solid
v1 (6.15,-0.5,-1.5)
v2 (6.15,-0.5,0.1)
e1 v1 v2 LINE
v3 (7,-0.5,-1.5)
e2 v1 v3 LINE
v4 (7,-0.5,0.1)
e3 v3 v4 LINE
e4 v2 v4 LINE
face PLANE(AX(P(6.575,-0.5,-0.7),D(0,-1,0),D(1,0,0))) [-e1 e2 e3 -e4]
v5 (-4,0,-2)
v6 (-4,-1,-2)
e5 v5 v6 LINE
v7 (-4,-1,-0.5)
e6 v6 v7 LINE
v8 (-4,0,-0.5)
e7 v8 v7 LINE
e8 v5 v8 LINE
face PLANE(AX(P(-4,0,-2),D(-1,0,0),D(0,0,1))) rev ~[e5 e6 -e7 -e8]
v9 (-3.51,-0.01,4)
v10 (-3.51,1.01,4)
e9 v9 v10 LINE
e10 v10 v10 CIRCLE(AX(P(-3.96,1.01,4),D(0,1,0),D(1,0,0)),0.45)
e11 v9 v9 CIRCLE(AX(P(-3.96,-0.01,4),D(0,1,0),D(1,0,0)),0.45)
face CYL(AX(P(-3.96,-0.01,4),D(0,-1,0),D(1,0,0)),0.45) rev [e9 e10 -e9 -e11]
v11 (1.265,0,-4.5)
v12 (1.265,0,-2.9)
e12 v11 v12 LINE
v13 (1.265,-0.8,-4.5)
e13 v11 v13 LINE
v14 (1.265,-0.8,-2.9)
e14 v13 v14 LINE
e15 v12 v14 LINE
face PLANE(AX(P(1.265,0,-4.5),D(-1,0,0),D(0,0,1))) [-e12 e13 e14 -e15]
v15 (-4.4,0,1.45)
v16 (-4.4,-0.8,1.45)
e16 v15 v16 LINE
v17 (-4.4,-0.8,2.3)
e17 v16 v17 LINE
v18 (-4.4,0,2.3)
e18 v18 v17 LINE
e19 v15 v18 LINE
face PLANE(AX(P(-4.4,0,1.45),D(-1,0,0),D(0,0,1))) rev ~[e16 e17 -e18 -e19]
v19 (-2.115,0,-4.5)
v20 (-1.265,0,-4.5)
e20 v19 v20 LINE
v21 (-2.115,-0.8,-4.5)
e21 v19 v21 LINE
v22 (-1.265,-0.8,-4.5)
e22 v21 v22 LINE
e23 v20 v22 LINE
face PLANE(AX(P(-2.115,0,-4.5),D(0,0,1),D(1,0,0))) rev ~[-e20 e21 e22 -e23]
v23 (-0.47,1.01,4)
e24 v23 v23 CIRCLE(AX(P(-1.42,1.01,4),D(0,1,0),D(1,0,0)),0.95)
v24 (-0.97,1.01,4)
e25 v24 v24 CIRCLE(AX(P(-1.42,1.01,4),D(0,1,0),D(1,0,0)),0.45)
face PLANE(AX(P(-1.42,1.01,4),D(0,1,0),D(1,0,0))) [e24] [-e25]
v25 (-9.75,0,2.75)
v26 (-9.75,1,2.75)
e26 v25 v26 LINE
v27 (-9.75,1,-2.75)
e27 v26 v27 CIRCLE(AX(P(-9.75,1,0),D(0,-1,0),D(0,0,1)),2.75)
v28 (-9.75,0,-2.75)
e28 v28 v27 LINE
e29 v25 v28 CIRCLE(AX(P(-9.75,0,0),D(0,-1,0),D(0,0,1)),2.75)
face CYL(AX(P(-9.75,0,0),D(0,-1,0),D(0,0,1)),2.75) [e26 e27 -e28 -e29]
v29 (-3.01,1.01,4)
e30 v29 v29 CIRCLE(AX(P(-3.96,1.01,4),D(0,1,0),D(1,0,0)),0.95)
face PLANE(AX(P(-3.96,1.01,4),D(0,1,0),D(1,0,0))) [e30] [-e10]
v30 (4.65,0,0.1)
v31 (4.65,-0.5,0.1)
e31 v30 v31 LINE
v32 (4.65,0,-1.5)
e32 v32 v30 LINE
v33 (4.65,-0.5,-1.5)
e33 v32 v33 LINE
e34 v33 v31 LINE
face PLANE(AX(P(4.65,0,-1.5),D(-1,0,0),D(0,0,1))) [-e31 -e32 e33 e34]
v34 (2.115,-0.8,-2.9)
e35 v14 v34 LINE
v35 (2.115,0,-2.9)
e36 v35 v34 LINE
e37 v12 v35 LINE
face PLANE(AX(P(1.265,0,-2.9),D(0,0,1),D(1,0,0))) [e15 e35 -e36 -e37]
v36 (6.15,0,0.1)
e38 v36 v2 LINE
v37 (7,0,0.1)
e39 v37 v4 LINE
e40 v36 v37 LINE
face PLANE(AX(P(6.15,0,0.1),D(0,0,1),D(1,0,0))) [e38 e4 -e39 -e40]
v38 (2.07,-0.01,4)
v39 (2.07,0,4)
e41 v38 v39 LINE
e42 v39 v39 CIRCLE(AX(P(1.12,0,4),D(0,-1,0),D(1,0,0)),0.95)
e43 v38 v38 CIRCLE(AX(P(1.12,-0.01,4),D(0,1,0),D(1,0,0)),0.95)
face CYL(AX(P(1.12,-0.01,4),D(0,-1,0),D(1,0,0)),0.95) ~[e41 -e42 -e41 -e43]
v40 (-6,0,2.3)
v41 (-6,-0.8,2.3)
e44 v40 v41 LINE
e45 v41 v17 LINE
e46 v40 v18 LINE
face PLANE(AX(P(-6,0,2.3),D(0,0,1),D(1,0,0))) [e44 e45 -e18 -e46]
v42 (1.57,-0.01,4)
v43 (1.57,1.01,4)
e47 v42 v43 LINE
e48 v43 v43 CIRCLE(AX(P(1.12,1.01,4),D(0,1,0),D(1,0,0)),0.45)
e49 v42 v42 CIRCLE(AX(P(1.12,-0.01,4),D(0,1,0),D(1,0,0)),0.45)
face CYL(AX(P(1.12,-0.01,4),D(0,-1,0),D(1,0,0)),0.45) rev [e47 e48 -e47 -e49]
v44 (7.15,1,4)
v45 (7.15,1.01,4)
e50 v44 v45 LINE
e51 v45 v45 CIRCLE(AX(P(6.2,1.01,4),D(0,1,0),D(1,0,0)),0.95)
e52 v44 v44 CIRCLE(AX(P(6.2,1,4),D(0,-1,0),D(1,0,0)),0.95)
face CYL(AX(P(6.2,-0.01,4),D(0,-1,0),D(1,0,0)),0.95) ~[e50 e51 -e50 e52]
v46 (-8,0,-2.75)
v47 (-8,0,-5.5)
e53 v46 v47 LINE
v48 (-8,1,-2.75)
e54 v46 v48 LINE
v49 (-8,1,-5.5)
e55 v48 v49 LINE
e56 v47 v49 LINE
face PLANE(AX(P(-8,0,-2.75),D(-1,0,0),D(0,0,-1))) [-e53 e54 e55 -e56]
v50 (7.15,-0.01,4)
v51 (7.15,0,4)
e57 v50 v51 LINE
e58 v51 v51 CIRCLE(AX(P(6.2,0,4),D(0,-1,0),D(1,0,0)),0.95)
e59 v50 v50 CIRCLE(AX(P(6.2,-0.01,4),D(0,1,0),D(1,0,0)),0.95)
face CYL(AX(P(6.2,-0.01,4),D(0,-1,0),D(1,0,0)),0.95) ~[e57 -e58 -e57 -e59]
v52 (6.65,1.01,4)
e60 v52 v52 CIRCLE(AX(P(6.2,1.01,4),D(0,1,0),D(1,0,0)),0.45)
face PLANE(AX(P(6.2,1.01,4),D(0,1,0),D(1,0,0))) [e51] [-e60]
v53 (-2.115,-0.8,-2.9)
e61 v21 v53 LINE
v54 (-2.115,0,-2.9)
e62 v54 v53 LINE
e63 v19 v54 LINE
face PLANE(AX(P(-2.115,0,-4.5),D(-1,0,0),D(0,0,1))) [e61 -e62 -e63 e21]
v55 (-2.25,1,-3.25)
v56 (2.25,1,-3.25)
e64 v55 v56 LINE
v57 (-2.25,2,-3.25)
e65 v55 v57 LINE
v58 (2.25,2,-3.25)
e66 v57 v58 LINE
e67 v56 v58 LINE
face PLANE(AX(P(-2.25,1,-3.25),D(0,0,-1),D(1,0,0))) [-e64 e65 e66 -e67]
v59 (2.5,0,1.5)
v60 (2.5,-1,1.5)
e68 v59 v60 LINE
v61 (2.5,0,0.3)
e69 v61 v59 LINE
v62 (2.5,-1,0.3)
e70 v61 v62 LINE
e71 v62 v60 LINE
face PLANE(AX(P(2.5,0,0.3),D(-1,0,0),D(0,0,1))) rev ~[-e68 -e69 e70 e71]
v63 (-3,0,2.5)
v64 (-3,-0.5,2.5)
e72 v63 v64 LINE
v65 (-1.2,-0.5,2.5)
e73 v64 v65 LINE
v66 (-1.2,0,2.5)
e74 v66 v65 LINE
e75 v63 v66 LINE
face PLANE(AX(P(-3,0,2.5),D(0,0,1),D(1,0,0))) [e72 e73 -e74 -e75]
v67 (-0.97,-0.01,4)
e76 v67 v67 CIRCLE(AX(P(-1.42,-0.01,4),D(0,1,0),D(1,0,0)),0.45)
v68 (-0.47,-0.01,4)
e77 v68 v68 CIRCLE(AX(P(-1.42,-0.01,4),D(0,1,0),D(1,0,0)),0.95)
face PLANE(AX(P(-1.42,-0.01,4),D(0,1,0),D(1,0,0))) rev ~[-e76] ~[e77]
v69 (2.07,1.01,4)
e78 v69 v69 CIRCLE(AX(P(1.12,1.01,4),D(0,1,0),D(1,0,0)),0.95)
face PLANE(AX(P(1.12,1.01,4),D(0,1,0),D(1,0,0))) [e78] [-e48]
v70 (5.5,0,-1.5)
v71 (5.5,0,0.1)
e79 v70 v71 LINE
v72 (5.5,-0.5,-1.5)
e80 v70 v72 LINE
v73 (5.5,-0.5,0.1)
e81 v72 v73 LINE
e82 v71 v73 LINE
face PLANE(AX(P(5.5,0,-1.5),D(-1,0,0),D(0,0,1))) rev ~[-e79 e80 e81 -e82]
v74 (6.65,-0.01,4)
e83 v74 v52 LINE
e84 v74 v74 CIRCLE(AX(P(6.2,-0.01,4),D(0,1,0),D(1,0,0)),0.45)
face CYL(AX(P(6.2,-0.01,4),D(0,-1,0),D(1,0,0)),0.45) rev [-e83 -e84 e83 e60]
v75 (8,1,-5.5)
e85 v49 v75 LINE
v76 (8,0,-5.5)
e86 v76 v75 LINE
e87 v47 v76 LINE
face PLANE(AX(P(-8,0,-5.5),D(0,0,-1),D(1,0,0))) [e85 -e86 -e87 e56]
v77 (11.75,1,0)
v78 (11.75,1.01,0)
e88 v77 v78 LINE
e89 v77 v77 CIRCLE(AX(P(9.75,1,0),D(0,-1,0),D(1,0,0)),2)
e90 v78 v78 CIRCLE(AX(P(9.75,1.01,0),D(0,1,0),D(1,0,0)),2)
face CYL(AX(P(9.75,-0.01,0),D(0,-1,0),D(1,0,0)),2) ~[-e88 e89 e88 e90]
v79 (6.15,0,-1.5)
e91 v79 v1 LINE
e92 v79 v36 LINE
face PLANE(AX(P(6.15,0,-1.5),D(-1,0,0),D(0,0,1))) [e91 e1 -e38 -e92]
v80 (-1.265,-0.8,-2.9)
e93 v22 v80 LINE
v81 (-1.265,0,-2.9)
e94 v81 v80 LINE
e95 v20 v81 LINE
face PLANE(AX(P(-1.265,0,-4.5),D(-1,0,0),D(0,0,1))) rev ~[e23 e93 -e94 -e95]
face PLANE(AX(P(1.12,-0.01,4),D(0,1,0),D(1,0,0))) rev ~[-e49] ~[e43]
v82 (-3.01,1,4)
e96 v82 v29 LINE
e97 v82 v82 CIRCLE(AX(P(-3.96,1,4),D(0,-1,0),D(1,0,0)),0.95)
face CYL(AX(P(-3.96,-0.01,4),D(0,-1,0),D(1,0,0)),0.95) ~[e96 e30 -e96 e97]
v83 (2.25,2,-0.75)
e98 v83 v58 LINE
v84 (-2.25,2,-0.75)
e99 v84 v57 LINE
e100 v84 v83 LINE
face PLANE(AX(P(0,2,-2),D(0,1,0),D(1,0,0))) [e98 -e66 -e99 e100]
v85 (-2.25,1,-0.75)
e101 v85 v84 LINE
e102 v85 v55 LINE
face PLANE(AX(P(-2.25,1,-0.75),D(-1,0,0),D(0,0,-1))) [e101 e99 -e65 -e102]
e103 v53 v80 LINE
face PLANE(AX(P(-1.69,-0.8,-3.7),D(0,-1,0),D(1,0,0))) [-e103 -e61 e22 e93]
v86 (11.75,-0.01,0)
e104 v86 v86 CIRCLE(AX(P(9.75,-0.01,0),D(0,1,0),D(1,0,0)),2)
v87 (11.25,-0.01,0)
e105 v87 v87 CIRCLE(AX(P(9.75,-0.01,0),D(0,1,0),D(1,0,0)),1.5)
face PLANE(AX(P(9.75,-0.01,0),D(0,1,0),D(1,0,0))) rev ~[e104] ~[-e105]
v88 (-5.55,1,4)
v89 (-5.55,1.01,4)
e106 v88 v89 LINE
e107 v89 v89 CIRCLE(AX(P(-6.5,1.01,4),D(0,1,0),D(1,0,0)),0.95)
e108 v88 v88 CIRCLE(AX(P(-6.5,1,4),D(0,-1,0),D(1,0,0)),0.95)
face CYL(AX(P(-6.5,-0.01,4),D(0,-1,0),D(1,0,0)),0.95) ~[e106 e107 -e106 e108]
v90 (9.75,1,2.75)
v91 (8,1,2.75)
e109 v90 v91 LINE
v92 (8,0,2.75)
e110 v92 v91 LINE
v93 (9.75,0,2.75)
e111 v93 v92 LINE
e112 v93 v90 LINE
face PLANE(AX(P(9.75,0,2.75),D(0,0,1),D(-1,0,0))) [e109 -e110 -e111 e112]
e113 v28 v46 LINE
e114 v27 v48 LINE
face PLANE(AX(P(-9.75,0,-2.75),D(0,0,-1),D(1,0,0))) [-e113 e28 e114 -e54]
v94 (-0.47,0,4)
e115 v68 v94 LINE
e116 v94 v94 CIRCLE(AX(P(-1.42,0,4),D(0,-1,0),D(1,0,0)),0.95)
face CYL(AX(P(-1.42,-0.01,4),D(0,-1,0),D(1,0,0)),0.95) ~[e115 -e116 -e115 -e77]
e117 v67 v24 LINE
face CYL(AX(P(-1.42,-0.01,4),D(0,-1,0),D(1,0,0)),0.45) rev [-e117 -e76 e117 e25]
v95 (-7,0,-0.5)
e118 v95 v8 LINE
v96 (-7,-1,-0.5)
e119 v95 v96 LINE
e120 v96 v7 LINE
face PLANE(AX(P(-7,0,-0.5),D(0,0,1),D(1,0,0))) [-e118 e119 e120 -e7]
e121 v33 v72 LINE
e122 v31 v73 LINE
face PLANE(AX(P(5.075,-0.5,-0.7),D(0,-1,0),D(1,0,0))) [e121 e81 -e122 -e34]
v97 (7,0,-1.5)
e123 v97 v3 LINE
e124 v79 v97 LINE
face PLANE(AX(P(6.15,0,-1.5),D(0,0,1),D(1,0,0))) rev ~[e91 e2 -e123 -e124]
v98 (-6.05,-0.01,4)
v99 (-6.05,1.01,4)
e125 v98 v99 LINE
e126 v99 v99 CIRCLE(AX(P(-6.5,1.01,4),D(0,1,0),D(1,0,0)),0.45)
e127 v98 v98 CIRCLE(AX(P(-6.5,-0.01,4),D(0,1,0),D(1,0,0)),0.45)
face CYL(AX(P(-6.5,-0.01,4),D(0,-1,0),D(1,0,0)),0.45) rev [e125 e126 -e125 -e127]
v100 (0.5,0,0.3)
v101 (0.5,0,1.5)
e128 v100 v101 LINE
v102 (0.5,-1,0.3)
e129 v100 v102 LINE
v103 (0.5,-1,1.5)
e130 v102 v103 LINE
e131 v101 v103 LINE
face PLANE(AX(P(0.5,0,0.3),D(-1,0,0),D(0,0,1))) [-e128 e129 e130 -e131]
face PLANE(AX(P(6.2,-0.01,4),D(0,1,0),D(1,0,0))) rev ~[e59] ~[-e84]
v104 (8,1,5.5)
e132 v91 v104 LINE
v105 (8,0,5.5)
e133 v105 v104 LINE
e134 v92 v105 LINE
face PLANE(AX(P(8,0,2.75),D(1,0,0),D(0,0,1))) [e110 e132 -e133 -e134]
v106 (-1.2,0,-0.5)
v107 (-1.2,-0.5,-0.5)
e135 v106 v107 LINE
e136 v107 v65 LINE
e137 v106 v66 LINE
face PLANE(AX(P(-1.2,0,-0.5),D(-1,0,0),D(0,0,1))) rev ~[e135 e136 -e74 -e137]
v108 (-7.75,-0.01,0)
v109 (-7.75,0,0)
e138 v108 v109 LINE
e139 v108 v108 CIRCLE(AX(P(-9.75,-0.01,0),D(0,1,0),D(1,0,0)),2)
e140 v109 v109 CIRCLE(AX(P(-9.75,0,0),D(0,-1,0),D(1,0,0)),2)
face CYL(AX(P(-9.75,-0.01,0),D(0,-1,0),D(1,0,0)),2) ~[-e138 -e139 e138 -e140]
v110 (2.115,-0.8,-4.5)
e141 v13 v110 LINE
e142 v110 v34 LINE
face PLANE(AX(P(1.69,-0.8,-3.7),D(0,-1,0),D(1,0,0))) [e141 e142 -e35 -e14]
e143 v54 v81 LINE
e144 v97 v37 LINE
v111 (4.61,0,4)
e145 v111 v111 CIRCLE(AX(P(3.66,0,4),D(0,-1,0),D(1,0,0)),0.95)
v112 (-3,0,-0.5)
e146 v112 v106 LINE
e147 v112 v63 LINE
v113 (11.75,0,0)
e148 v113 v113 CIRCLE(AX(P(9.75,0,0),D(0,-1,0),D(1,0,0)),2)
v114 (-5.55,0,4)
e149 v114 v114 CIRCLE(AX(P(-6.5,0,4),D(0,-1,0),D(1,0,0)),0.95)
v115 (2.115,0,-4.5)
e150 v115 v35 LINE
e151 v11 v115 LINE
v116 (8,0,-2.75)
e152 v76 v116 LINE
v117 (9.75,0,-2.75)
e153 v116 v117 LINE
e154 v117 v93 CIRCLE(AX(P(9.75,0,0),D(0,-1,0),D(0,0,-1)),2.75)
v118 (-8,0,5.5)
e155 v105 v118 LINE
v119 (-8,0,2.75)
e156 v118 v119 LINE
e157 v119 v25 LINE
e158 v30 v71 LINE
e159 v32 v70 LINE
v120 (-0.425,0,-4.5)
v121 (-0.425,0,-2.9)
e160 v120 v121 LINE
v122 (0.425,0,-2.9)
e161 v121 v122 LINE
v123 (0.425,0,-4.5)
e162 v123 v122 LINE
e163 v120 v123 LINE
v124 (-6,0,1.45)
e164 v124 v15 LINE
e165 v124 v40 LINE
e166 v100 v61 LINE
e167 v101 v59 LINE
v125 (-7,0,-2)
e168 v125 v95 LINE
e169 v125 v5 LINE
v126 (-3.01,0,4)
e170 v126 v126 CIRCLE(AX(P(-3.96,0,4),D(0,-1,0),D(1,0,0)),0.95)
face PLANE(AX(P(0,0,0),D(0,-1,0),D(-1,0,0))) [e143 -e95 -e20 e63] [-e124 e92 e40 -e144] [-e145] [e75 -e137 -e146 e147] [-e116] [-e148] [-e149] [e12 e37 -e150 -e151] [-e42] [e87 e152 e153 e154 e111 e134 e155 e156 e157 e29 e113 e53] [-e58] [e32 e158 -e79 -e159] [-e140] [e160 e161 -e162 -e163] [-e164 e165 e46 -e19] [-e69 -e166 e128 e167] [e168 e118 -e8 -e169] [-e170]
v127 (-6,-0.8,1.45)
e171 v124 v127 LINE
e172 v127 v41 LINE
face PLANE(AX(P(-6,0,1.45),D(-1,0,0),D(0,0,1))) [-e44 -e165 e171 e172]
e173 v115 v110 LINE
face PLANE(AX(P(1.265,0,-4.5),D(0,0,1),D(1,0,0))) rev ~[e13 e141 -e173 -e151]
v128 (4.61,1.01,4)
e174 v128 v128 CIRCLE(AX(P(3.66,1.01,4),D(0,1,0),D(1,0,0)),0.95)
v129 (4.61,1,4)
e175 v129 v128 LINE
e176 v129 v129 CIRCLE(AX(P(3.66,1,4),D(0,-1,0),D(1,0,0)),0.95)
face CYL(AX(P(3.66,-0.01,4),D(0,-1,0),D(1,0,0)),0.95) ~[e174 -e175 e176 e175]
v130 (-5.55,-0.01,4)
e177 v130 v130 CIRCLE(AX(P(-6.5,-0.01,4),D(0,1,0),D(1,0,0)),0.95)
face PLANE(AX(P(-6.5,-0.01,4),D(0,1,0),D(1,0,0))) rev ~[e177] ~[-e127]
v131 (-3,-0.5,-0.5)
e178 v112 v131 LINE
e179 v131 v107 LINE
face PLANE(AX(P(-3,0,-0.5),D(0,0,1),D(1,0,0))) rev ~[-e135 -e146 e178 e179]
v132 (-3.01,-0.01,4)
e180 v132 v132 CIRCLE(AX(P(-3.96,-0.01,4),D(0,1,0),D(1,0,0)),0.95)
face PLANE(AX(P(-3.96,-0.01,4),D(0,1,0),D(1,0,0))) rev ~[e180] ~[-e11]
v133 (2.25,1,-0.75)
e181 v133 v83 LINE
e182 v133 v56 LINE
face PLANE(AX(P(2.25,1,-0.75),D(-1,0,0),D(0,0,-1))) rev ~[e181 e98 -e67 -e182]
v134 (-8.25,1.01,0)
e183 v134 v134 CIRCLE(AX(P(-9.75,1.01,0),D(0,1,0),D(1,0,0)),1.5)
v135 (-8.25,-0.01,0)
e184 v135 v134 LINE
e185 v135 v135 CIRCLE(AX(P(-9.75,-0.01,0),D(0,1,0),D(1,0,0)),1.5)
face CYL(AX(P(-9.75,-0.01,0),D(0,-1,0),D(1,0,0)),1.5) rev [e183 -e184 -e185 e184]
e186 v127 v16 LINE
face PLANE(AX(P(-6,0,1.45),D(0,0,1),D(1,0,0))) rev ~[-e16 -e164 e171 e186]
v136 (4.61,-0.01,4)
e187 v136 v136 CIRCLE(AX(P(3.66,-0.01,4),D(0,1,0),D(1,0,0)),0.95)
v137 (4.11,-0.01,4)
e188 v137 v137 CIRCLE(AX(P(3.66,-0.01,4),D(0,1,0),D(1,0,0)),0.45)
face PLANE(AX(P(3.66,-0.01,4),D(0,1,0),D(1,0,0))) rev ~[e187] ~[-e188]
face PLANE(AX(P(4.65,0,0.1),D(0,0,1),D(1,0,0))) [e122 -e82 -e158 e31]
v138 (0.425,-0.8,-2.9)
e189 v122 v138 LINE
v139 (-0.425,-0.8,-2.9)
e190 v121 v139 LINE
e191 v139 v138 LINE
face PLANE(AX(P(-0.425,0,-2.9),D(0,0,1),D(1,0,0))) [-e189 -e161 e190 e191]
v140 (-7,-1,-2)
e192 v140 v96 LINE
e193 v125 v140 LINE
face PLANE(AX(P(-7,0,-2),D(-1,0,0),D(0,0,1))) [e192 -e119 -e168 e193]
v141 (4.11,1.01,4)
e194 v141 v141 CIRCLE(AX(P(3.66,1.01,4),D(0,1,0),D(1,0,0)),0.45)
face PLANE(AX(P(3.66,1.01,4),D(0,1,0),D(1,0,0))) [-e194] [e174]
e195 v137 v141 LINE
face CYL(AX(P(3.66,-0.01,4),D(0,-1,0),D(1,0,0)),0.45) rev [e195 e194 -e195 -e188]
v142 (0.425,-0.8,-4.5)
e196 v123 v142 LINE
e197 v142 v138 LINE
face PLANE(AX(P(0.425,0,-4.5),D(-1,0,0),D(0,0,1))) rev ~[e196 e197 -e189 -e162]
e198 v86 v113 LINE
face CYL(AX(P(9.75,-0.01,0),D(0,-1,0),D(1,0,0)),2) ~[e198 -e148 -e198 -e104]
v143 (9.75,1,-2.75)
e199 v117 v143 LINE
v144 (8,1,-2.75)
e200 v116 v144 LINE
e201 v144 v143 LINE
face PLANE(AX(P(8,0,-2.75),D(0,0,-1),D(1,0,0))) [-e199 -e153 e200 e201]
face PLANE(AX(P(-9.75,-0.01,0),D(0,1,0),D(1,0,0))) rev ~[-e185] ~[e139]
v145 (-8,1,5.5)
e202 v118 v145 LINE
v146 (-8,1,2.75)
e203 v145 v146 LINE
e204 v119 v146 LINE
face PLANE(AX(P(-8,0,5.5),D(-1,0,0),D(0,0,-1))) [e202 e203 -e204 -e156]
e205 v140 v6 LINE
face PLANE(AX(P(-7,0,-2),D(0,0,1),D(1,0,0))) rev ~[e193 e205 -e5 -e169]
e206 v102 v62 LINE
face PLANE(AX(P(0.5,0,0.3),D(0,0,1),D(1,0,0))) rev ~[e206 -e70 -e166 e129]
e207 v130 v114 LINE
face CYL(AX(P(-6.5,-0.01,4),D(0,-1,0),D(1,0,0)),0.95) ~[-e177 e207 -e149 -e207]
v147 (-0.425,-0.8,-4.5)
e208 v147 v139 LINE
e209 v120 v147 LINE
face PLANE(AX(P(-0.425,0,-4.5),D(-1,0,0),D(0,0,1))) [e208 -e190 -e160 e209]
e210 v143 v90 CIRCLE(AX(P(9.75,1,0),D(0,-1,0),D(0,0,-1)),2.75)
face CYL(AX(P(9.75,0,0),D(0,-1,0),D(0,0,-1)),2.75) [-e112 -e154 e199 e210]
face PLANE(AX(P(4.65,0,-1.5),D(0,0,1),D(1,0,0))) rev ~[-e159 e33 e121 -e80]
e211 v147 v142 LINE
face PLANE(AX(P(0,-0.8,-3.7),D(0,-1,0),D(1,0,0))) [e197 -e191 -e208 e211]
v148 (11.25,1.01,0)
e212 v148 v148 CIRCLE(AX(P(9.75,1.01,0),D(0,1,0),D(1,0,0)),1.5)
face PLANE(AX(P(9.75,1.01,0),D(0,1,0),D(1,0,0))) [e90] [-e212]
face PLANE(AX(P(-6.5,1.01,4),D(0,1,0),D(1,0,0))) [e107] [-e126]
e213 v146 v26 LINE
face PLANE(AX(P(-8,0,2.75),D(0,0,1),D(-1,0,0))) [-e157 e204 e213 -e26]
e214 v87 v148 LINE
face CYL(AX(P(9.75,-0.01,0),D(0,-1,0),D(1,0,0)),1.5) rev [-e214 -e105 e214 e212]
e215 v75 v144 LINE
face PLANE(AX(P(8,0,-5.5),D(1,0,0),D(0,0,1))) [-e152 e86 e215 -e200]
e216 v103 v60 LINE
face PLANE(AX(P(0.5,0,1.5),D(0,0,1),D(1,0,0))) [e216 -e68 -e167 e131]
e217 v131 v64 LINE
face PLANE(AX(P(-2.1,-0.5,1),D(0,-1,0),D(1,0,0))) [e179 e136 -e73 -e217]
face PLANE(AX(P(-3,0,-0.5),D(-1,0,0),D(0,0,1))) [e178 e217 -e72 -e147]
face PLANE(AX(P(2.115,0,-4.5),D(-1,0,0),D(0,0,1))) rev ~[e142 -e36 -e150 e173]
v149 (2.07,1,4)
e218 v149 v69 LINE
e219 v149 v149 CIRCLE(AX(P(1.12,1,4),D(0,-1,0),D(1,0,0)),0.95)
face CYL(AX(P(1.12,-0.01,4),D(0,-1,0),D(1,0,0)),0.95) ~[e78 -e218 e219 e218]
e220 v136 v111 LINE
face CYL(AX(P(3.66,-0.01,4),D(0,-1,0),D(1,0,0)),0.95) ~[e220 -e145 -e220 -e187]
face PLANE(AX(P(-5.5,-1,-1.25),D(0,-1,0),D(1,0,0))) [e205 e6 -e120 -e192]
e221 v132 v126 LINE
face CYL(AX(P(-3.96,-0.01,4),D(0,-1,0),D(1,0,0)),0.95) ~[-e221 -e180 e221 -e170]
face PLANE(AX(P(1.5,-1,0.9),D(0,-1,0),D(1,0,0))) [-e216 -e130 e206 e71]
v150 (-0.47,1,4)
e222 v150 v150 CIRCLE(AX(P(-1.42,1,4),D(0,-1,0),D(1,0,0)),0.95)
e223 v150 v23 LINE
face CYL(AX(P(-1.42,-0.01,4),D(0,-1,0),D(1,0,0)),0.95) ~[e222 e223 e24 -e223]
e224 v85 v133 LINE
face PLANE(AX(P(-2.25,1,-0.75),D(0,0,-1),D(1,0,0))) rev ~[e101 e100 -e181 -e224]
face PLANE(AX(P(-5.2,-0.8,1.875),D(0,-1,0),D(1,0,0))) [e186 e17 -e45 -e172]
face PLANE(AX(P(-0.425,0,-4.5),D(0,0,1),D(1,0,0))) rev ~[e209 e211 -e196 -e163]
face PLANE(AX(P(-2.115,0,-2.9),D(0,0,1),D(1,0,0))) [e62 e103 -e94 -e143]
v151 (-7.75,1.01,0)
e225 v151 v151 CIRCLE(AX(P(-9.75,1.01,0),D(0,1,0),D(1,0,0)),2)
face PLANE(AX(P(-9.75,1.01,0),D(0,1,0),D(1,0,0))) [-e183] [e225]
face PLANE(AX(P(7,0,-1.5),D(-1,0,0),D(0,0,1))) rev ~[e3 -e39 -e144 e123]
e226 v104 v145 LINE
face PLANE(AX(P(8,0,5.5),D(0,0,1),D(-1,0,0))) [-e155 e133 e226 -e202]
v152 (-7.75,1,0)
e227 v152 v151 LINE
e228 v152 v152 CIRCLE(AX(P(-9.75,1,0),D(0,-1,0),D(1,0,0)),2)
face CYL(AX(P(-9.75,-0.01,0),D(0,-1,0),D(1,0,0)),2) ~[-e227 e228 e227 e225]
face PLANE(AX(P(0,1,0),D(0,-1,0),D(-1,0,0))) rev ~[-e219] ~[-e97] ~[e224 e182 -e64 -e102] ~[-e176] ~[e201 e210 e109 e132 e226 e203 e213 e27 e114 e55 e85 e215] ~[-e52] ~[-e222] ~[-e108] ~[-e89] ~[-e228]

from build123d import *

# Parameters (mm, degrees)
SKETCH_1_R      = 0.45
SKETCH_1_R_2    = 1.5
EXTRUDE_1_DEPTH = 1
EXTRUDE_START   = -0.01
SKETCH_1_3_R    = 2
SKETCH_1_3_R_2  = 1.5
SKETCH_1_3_R_3  = 0.95
SKETCH_1_3_R_4  = 0.45
EXTRUDE_2_DEPTH = 1.02
SKETCH_2_W      = 4.5
SKETCH_2_H      = 2.5
EXTRUDE_3_DEPTH = 1
SKETCH_3_W      = 1.6
SKETCH_3_H      = 0.85
SKETCH_3_W_2    = 0.85
SKETCH_3_H_2    = 1.6
EXTRUDE_4_DEPTH = 0.8
SKETCH_3_3_W    = 1.8
SKETCH_3_3_H    = 3
SKETCH_3_3_W_2  = 0.85
SKETCH_3_3_H_2  = 1.6
EXTRUDE_5_DEPTH = 0.5
SKETCH_3_4_W    = 3
SKETCH_3_4_H    = 1.5
SKETCH_3_4_W_2  = 2
SKETCH_3_4_H_2  = 1.2
EXTRUDE_6_DEPTH = 1


with BuildPart() as part:
    # Эскиз1 → Бобышка-Вытянуть1 (new body)
    with BuildSketch(Plane(origin=(0, 0, 0), x_dir=(1, 0, 0), z_dir=(0, 1, 0))):
        with BuildLine():
            Line((-8, -5.5), (8, -5.5))
            Line((8, -5.5), (8, -2.75))
            Line((8, -2.75), (9.75, -2.75))
            ThreePointArc((9.75, -2.75), (12.5, 0), (9.75, 2.75))
            Line((9.75, 2.75), (8, 2.75))
            Line((8, 2.75), (8, 5.5))
            Line((8, 5.5), (-8, 5.5))
            Line((-8, 5.5), (-8, 2.75))
            Line((-8, 2.75), (-9.75, 2.75))
            ThreePointArc((-9.75, 2.75), (-12.5, 0), (-9.75, -2.75))
            Line((-9.75, -2.75), (-8, -2.75))
            Line((-8, -2.75), (-8, -5.5))
        make_face()
        with Locations((-6.5, -4)):
            Circle(SKETCH_1_R, mode=Mode.SUBTRACT)
        with Locations((-3.96, -4)):
            Circle(SKETCH_1_R, mode=Mode.SUBTRACT)
        with Locations((-1.42, -4)):
            Circle(SKETCH_1_R, mode=Mode.SUBTRACT)
        with Locations((1.12, -4)):
            Circle(SKETCH_1_R, mode=Mode.SUBTRACT)
        with Locations((3.66, -4)):
            Circle(SKETCH_1_R, mode=Mode.SUBTRACT)
        with Locations((6.2, -4)):
            Circle(SKETCH_1_R, mode=Mode.SUBTRACT)
        with Locations((-9.75, 0)):
            Circle(SKETCH_1_R_2, mode=Mode.SUBTRACT)
        with Locations((9.75, 0)):
            Circle(SKETCH_1_R_2, mode=Mode.SUBTRACT)
    extrude(amount=EXTRUDE_1_DEPTH)

    # Эскиз1<3> → Бобышка-Вытянуть2 (add)
    # profile 1 of 8: a face of its own
    with BuildSketch(Plane(origin=(0, 0, 0), x_dir=(1, 0, 0), z_dir=(0, 1, 0)).offset(EXTRUDE_START)):
        with Locations((-9.75, 0)):
            Circle(SKETCH_1_3_R)
        with Locations((-9.75, 0)):
            Circle(SKETCH_1_3_R_2, mode=Mode.SUBTRACT)
    # profile 2 of 8: a face of its own
    with BuildSketch(Plane(origin=(0, 0, 0), x_dir=(1, 0, 0), z_dir=(0, 1, 0)).offset(EXTRUDE_START)):
        with Locations((9.75, 0)):
            Circle(SKETCH_1_3_R)
        with Locations((9.75, 0)):
            Circle(SKETCH_1_3_R_2, mode=Mode.SUBTRACT)
    # profile 3 of 8: a face of its own
    with BuildSketch(Plane(origin=(0, 0, 0), x_dir=(1, 0, 0), z_dir=(0, 1, 0)).offset(EXTRUDE_START)):
        with Locations((-6.5, -4)):
            Circle(SKETCH_1_3_R_3)
        with Locations((-6.5, -4)):
            Circle(SKETCH_1_3_R_4, mode=Mode.SUBTRACT)
    # profile 4 of 8: a face of its own
    with BuildSketch(Plane(origin=(0, 0, 0), x_dir=(1, 0, 0), z_dir=(0, 1, 0)).offset(EXTRUDE_START)):
        with Locations((-3.96, -4)):
            Circle(SKETCH_1_3_R_3)
        with Locations((-3.96, -4)):
            Circle(SKETCH_1_3_R_4, mode=Mode.SUBTRACT)
    # profile 5 of 8: a face of its own
    with BuildSketch(Plane(origin=(0, 0, 0), x_dir=(1, 0, 0), z_dir=(0, 1, 0)).offset(EXTRUDE_START)):
        with Locations((-1.42, -4)):
            Circle(SKETCH_1_3_R_3)
        with Locations((-1.42, -4)):
            Circle(SKETCH_1_3_R_4, mode=Mode.SUBTRACT)
    # profile 6 of 8: a face of its own
    with BuildSketch(Plane(origin=(0, 0, 0), x_dir=(1, 0, 0), z_dir=(0, 1, 0)).offset(EXTRUDE_START)):
        with Locations((1.12, -4)):
            Circle(SKETCH_1_3_R_3)
        with Locations((1.12, -4)):
            Circle(SKETCH_1_3_R_4, mode=Mode.SUBTRACT)
    # profile 7 of 8: a face of its own
    with BuildSketch(Plane(origin=(0, 0, 0), x_dir=(1, 0, 0), z_dir=(0, 1, 0)).offset(EXTRUDE_START)):
        with Locations((3.66, -4)):
            Circle(SKETCH_1_3_R_3)
        with Locations((3.66, -4)):
            Circle(SKETCH_1_3_R_4, mode=Mode.SUBTRACT)
    # profile 8 of 8: a face of its own
    with BuildSketch(Plane(origin=(0, 0, 0), x_dir=(1, 0, 0), z_dir=(0, 1, 0)).offset(EXTRUDE_START)):
        with Locations((6.2, -4)):
            Circle(SKETCH_1_3_R_3)
        with Locations((6.2, -4)):
            Circle(SKETCH_1_3_R_4, mode=Mode.SUBTRACT)
    extrude(amount=EXTRUDE_2_DEPTH)

    # Эскиз2 → Бобышка-Вытянуть3 (add)
    with BuildSketch(Plane(origin=(0, 1, 0), x_dir=(1, 0, 0), z_dir=(0, 1, 0))):
        with Locations((0, 2)):
            Rectangle(SKETCH_2_W, SKETCH_2_H)
    extrude(amount=EXTRUDE_3_DEPTH)

    # Эскиз3 → Бобышка-Вытянуть4 (add)
    with BuildSketch(Plane.XZ):
        with Locations((-5.2, 1.875)):
            Rectangle(SKETCH_3_W, SKETCH_3_H)
        with Locations((-1.69, -3.7)):
            Rectangle(SKETCH_3_W_2, SKETCH_3_H_2)
        with Locations((0, -3.7)):
            Rectangle(SKETCH_3_W_2, SKETCH_3_H_2)
        with Locations((1.69, -3.7)):
            Rectangle(SKETCH_3_W_2, SKETCH_3_H_2)
    extrude(amount=EXTRUDE_4_DEPTH)

    # Эскиз3<3> → Бобышка-Вытянуть5 (add)
    with BuildSketch(Plane.XZ):
        with Locations((-2.1, 1)):
            Rectangle(SKETCH_3_3_W, SKETCH_3_3_H)
        with Locations((5.075, -0.7)):
            Rectangle(SKETCH_3_3_W_2, SKETCH_3_3_H_2)
        with Locations((6.575, -0.7)):
            Rectangle(SKETCH_3_3_W_2, SKETCH_3_3_H_2)
    extrude(amount=EXTRUDE_5_DEPTH)

    # Эскиз3<4> → Бобышка-Вытянуть6 (add)
    with BuildSketch(Plane.XZ):
        with Locations((-5.5, -1.25)):
            Rectangle(SKETCH_3_4_W, SKETCH_3_4_H)
        with Locations((1.5, 0.9)):
            Rectangle(SKETCH_3_4_W_2, SKETCH_3_4_H_2)
    extrude(amount=EXTRUDE_6_DEPTH)


solid = part.part
